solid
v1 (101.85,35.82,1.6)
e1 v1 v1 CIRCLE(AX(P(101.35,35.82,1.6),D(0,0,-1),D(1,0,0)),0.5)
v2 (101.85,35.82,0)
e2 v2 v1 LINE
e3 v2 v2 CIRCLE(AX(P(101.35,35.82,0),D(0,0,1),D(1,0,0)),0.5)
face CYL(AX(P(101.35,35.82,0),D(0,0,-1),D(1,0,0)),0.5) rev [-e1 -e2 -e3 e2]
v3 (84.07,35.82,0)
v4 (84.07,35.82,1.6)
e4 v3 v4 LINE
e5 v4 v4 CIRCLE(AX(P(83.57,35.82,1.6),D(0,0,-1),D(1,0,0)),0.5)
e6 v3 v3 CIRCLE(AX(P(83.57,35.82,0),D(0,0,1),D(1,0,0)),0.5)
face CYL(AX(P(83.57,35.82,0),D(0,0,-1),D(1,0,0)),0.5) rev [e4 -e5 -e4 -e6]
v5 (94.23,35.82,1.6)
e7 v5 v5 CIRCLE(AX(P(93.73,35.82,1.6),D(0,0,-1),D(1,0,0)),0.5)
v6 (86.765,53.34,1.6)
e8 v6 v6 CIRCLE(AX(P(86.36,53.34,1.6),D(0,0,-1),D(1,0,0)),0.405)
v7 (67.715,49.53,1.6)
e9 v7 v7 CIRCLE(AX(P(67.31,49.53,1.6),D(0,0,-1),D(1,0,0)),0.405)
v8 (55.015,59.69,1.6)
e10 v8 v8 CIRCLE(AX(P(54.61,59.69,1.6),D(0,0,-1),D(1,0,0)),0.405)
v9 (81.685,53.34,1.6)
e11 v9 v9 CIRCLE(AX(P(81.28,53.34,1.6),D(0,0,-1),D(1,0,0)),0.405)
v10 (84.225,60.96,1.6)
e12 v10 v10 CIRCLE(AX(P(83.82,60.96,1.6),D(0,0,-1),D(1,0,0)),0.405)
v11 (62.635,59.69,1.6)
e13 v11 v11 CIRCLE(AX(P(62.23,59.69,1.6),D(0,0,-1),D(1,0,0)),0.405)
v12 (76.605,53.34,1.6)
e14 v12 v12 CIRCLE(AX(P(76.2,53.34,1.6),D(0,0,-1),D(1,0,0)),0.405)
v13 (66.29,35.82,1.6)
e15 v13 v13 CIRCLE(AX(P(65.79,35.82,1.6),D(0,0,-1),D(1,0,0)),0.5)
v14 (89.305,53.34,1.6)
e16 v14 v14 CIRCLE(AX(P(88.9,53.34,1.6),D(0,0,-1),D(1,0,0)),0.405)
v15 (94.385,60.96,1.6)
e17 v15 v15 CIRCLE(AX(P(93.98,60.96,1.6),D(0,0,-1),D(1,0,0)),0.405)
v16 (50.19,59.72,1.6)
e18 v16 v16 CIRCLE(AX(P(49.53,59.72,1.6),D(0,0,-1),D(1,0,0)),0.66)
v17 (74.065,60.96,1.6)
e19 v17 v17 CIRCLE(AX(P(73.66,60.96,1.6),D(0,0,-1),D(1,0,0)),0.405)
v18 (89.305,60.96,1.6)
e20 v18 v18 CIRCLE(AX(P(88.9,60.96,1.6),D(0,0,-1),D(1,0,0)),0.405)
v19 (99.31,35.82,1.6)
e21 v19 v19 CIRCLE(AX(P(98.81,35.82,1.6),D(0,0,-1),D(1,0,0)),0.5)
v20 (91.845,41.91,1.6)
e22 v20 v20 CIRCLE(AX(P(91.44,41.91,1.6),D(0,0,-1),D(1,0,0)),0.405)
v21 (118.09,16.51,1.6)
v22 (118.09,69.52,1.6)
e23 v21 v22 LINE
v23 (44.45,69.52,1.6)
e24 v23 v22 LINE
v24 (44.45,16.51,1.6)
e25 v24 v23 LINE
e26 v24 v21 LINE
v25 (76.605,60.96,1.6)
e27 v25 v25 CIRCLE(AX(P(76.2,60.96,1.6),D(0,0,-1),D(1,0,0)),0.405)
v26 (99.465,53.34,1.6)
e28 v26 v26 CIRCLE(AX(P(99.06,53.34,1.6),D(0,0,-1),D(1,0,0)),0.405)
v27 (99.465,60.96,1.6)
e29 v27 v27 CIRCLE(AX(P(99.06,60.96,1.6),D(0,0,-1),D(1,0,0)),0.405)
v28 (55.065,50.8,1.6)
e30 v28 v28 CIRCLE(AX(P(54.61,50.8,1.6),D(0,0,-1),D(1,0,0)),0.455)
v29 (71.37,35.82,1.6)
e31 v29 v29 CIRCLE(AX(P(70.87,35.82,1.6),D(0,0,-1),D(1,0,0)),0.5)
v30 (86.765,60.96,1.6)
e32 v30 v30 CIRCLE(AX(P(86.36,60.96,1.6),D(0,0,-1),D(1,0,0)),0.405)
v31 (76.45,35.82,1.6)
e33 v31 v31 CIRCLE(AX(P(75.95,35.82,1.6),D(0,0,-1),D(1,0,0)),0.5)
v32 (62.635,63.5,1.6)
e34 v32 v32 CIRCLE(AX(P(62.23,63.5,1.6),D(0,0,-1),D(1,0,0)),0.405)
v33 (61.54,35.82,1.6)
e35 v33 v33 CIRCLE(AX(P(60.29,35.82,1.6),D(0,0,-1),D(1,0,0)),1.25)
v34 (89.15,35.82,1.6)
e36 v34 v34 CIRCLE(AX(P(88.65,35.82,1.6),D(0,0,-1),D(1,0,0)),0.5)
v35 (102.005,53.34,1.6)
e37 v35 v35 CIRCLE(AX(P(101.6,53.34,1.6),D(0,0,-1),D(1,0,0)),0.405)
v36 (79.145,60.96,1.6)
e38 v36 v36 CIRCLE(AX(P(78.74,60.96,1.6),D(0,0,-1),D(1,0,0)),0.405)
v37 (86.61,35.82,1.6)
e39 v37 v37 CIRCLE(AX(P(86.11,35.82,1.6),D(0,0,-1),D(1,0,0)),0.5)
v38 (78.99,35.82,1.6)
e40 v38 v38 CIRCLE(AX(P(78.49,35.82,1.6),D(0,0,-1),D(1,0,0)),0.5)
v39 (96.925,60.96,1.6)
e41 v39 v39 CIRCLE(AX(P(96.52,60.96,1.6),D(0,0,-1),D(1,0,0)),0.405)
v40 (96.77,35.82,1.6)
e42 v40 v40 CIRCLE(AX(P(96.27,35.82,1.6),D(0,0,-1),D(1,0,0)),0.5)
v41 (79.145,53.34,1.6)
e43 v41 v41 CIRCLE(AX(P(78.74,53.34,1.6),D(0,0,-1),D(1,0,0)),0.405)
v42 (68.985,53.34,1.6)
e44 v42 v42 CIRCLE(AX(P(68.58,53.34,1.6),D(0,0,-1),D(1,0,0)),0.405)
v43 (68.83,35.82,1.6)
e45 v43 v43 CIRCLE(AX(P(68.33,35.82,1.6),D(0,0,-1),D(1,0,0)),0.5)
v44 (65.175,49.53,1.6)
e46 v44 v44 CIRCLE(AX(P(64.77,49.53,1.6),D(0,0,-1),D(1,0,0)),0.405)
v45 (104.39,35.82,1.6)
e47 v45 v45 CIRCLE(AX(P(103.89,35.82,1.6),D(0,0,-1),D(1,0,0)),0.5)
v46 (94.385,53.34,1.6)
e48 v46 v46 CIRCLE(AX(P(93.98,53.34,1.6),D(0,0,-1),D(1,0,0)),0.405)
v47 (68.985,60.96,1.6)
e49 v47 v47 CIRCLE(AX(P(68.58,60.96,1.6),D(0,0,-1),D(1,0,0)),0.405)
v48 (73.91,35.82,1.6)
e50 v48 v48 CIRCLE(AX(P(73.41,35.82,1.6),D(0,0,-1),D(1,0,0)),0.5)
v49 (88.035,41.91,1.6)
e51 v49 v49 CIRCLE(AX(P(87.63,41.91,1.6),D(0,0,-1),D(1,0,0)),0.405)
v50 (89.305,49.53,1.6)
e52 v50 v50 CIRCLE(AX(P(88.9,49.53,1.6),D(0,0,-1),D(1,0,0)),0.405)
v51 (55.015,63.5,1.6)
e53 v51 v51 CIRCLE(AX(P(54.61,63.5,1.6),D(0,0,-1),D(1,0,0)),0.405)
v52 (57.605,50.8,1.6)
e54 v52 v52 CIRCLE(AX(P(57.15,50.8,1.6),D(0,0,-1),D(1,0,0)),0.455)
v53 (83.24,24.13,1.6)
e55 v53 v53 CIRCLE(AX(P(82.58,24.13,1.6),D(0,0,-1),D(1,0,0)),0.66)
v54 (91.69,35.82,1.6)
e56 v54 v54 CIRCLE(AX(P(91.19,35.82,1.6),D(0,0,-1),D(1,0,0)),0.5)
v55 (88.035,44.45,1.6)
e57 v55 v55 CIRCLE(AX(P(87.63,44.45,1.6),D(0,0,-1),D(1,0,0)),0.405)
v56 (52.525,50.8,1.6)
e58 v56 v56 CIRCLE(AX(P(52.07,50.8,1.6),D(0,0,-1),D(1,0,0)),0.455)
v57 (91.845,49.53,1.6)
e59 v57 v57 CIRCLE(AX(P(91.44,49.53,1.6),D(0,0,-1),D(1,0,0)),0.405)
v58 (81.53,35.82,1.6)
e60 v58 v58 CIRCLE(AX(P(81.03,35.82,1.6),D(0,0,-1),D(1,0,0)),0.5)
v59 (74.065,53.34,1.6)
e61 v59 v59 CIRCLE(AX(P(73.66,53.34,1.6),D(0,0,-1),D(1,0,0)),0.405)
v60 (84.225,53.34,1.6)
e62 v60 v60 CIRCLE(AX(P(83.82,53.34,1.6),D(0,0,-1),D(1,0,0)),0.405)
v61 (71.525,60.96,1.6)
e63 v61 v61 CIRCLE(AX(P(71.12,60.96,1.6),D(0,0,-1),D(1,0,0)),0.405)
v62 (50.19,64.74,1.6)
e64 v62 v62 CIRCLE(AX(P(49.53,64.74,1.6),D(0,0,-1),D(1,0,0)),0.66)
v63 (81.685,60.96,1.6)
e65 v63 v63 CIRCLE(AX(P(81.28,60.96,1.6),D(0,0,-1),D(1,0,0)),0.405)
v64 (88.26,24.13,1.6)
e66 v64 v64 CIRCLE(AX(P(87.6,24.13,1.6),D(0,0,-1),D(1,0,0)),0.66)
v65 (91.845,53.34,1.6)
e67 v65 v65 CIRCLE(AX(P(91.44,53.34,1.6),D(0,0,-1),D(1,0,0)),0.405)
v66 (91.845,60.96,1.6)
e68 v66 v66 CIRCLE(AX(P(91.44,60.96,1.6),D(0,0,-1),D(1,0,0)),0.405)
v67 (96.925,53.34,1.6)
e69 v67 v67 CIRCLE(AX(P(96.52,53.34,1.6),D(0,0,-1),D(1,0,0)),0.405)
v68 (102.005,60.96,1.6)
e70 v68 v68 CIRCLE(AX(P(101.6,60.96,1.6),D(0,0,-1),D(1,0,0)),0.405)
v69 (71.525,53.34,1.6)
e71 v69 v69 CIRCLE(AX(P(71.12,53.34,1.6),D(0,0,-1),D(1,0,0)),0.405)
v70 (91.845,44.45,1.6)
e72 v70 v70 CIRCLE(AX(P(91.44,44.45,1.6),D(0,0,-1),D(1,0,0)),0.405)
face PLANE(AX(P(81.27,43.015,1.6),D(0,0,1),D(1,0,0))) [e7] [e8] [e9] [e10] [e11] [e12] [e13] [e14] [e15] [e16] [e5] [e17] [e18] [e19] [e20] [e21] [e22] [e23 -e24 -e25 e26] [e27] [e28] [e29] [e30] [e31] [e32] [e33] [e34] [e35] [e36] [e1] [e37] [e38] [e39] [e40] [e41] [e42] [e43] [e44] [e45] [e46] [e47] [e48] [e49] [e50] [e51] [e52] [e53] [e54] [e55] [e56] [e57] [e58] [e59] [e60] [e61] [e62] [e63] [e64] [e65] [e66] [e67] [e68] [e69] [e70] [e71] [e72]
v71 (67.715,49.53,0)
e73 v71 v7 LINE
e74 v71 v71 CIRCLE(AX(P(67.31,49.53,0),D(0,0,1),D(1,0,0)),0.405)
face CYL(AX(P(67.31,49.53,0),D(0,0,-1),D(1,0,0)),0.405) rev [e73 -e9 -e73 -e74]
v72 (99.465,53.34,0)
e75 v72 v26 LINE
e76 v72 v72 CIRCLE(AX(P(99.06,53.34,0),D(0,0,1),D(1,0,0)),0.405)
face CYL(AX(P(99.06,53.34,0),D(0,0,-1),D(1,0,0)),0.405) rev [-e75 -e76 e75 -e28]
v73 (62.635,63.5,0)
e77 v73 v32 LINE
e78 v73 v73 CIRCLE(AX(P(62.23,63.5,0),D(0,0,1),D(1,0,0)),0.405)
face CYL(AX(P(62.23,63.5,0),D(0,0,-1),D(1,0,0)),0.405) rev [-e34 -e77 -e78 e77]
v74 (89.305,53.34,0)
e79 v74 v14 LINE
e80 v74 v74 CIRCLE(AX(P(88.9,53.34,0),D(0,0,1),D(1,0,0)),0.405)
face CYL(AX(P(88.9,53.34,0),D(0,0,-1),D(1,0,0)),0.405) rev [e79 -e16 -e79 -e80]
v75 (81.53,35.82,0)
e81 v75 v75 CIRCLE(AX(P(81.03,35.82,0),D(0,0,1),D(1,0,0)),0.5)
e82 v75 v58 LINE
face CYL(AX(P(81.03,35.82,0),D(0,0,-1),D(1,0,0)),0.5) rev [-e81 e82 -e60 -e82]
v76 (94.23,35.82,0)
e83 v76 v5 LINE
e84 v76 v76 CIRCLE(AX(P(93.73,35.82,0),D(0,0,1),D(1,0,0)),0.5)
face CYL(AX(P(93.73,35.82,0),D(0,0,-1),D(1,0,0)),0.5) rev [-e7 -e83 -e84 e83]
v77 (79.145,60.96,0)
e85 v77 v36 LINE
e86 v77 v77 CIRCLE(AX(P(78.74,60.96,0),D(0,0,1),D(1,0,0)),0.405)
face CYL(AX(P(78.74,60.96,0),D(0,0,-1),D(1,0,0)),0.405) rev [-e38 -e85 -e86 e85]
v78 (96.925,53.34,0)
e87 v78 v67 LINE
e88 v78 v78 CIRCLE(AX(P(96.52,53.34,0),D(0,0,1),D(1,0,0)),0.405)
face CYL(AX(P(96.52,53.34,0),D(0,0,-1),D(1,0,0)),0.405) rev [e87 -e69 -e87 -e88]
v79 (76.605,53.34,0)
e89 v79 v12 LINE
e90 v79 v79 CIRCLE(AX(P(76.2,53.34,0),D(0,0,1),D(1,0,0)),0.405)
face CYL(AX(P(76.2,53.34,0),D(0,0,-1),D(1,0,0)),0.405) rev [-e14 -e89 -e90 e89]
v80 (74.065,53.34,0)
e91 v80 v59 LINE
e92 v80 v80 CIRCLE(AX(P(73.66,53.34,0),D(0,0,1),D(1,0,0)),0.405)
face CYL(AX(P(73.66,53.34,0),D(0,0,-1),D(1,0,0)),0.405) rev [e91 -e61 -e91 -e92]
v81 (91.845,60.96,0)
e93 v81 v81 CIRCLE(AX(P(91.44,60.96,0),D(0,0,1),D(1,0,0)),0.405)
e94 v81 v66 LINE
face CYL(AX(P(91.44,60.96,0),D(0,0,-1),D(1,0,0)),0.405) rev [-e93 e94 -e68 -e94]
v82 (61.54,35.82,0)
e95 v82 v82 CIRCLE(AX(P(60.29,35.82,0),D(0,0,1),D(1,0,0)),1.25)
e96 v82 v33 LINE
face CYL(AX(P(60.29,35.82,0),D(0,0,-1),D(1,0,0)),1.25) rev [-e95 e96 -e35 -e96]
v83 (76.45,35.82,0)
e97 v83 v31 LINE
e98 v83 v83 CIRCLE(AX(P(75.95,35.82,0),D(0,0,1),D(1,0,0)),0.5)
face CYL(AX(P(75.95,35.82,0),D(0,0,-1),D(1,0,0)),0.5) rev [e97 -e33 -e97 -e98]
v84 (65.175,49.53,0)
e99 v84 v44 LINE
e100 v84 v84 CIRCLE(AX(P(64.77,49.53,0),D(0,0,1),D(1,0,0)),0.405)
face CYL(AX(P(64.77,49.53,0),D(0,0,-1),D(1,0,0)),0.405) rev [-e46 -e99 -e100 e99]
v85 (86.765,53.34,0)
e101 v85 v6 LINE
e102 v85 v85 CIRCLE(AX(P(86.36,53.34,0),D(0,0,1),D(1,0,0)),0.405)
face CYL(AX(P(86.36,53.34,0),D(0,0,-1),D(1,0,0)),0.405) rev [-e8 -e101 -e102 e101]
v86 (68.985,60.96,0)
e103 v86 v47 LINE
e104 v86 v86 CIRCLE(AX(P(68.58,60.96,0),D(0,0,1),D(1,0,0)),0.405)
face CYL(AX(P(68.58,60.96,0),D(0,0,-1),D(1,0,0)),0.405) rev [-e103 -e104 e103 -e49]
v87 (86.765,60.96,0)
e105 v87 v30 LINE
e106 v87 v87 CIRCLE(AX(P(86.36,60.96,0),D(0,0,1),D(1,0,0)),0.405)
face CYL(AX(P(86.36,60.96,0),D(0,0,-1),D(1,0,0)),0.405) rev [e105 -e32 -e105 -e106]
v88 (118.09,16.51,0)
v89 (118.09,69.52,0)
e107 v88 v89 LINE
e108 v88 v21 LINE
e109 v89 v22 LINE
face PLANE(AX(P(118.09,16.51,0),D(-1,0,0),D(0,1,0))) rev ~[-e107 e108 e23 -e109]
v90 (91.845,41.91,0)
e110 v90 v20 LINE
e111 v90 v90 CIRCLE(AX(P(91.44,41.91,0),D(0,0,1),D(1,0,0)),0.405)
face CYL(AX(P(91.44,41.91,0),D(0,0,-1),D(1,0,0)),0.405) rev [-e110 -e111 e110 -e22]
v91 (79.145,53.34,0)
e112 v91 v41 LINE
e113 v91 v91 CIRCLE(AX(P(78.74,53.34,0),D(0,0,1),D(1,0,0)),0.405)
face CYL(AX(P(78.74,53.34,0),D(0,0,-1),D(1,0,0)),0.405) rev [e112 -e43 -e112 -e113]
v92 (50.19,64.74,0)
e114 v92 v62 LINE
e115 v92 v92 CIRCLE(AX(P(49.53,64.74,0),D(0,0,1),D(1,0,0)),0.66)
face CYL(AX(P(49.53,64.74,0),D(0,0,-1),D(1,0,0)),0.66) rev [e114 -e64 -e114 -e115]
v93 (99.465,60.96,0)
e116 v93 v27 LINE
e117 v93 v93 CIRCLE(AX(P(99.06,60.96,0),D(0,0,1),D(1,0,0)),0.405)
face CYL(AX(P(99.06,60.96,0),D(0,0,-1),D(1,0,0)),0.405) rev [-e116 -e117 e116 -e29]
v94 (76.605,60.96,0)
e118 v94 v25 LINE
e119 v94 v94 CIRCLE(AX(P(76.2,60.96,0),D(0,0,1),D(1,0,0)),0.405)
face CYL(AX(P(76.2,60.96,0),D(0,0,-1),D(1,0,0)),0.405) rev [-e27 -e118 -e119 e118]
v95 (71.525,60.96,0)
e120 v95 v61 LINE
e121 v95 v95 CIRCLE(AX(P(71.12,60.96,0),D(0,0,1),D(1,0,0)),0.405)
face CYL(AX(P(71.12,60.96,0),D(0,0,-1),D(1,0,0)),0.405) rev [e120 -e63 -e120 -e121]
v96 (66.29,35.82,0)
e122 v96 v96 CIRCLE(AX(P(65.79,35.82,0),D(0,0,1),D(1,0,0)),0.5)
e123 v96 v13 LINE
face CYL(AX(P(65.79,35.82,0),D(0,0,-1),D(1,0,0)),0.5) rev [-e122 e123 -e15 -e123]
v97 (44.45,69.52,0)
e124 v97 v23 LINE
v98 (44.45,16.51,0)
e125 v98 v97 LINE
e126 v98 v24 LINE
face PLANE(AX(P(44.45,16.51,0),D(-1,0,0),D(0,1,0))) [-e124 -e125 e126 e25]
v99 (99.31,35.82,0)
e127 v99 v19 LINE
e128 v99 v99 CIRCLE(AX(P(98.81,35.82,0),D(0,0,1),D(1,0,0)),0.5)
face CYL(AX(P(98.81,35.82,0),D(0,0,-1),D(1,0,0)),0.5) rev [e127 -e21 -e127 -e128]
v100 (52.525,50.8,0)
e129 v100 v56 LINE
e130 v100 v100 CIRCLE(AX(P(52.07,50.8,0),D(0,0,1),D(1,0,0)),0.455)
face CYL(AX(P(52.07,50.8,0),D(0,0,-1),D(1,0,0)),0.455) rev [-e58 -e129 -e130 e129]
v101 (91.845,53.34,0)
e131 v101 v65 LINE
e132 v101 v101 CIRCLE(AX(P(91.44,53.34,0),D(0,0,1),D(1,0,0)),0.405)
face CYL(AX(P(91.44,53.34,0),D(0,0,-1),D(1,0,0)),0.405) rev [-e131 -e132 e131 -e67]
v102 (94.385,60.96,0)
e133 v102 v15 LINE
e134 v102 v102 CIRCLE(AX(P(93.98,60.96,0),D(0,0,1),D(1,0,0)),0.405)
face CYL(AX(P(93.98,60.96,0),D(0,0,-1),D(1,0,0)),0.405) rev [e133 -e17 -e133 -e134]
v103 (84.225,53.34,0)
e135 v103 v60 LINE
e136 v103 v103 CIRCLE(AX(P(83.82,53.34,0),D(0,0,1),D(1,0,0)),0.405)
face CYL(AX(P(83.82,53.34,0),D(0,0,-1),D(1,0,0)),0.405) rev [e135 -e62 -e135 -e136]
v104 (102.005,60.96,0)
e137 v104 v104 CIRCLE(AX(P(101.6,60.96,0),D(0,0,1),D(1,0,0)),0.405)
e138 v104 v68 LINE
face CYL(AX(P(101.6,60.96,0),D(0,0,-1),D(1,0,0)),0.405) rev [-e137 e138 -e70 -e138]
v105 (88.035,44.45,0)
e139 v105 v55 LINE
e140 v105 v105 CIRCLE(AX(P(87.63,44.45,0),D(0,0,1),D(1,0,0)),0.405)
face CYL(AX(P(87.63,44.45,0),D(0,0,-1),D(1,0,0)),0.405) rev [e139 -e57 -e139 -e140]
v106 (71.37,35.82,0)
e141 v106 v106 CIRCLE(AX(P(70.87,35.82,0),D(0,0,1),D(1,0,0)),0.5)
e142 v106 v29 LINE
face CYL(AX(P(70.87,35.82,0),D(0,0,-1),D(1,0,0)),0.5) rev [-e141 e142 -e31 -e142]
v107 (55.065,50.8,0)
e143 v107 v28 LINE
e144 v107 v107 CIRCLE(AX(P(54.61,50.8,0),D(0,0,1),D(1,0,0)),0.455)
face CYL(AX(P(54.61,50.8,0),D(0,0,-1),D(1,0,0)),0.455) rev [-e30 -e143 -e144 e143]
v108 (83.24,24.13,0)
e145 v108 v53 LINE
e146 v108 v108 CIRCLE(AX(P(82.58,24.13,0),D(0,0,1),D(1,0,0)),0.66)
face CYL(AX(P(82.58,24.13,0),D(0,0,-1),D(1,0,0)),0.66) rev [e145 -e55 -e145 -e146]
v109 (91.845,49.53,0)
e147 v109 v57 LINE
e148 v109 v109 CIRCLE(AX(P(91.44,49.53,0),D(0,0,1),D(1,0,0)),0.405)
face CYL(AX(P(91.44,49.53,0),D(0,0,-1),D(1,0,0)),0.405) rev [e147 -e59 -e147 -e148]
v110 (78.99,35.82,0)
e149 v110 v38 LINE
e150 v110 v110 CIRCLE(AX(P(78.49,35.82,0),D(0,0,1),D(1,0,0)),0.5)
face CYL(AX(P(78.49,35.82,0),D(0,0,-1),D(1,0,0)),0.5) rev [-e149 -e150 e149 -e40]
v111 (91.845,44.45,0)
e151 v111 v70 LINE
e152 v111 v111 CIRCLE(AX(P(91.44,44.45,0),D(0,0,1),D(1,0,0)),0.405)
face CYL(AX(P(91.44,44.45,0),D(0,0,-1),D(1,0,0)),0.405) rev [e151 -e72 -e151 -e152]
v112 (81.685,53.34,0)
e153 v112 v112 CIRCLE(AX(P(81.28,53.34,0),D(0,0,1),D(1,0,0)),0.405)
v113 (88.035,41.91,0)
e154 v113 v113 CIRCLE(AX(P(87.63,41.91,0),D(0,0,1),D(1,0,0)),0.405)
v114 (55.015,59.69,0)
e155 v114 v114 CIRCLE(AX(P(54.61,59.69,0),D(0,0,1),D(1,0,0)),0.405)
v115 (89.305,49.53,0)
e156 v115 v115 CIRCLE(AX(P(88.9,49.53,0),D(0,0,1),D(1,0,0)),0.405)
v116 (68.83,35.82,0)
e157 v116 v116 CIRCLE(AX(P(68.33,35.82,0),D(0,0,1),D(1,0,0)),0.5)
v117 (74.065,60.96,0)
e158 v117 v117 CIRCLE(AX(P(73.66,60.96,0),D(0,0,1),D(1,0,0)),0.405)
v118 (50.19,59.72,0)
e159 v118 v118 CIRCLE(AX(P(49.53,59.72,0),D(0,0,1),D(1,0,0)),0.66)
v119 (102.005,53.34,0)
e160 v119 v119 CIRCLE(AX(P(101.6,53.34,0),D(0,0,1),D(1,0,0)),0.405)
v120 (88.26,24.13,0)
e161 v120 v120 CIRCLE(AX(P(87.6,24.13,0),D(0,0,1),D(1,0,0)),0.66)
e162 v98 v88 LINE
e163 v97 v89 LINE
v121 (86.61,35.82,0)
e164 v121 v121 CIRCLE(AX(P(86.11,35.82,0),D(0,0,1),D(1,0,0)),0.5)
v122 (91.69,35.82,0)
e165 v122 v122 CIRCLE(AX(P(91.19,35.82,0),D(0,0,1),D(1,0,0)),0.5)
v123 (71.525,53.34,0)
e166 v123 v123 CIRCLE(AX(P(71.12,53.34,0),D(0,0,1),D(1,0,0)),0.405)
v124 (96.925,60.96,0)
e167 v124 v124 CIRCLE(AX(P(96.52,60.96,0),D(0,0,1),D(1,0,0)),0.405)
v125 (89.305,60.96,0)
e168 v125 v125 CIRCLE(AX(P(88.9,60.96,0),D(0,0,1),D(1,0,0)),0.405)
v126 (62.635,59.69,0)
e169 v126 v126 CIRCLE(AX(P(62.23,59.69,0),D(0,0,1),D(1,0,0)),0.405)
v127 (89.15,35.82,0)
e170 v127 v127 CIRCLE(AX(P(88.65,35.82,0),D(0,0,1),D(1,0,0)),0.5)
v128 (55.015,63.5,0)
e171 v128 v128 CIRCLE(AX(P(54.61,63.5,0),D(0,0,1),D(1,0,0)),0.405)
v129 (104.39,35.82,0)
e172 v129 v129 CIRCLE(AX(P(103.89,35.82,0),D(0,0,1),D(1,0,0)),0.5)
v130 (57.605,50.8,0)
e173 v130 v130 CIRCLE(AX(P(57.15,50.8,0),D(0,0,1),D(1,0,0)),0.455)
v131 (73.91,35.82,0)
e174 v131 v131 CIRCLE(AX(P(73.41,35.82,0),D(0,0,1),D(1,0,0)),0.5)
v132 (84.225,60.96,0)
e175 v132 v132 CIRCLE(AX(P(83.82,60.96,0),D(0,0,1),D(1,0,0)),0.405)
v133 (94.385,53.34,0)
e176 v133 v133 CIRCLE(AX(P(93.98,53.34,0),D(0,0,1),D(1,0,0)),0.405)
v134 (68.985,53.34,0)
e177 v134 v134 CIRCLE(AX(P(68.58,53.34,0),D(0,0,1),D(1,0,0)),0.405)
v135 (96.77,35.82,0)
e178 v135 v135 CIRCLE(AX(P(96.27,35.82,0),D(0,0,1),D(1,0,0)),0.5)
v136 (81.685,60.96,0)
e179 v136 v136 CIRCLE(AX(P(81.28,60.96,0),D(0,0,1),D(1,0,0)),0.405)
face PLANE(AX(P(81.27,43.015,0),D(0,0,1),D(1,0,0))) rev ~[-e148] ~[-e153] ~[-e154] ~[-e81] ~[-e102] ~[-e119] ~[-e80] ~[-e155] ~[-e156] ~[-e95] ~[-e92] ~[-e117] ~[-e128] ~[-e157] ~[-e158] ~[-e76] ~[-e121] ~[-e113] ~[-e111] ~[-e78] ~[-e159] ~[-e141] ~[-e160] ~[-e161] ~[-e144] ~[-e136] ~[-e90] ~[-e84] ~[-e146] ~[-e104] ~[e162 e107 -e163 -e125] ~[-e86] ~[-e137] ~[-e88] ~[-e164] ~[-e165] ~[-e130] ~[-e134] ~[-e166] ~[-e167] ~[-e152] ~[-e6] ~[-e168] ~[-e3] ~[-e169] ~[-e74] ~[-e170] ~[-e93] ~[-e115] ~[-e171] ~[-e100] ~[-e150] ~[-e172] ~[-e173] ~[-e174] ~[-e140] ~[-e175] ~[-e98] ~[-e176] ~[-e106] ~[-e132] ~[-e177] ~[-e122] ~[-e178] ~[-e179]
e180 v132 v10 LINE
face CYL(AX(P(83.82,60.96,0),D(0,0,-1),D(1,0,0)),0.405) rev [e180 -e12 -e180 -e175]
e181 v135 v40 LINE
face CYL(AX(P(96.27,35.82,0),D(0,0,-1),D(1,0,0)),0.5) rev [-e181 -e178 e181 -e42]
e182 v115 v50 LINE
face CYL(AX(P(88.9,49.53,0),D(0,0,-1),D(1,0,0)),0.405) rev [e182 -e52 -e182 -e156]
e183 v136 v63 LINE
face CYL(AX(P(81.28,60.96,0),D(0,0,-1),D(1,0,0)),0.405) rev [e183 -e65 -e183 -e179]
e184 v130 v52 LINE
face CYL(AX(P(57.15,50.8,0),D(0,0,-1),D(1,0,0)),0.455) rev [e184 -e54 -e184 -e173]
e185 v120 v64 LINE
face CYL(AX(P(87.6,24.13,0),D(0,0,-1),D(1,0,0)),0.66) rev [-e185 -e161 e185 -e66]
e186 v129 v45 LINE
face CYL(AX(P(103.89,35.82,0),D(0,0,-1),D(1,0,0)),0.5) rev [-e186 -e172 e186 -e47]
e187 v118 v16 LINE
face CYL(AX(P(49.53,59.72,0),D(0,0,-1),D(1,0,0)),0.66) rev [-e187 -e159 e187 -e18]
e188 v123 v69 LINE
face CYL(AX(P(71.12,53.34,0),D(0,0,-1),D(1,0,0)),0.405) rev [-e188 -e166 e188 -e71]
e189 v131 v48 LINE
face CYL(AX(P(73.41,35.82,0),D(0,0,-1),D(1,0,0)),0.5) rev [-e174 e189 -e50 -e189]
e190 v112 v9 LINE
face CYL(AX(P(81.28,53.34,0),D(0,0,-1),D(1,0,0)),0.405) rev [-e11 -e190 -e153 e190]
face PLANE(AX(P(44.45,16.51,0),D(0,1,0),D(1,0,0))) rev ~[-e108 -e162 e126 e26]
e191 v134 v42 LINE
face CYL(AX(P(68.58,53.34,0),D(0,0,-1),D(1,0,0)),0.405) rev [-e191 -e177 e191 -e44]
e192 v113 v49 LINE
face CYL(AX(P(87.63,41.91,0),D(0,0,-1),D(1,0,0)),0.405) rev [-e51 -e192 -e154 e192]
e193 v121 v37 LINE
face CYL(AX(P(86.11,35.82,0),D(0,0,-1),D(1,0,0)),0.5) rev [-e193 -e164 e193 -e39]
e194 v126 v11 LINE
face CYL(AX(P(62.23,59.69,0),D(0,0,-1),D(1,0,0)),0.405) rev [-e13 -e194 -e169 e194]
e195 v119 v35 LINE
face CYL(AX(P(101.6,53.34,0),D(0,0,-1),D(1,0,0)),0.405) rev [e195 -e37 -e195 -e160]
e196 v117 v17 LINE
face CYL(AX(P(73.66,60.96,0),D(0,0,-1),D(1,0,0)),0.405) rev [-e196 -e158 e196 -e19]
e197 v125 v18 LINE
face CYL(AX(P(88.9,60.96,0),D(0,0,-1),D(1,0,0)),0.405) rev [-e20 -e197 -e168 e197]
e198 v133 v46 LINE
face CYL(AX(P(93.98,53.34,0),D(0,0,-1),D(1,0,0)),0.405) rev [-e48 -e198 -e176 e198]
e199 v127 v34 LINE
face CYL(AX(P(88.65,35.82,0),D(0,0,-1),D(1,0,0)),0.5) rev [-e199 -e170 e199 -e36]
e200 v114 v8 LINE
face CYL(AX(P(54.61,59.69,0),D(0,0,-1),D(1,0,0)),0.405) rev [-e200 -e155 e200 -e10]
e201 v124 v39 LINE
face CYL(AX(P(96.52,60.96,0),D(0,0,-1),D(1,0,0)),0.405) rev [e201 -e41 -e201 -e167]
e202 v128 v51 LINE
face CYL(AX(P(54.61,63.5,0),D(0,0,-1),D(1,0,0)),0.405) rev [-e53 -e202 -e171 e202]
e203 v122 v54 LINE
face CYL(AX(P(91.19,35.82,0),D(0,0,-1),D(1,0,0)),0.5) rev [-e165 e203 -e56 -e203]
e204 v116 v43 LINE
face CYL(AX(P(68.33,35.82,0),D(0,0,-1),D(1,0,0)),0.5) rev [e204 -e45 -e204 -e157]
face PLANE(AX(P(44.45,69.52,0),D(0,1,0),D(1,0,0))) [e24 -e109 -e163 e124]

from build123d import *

# Parameters (mm, degrees)
SKETCH1_W           = 73.64
SKETCH1_H           = 53.01
BOARD_OUTLINE_DEPTH = 1.6
SKETCH2_R           = 1.25
NPTH_DEPTH          = 138.043199393
SKETCH3_R           = 0.405
SKETCH3_R_2         = 0.455
SKETCH3_R_3         = 0.5
SKETCH3_R_4         = 0.66
PTH_DEPTH           = 138.043199393


with BuildPart() as part:
    # Sketch1 → Board_Outline (new body)
    with BuildSketch(Plane.XY):
        with Locations((81.27, 43.015)):
            Rectangle(SKETCH1_W, SKETCH1_H)
    extrude(amount=BOARD_OUTLINE_DEPTH)

    # Sketch2 → NPTH (cut, through all)
    with BuildSketch(Plane.XY):
        with Locations((60.29, 4.82)):
            Circle(SKETCH2_R)
        with Locations((135.29, 4.82)):
            Circle(SKETCH2_R)
        with Locations((60.29, 35.82)):
            Circle(SKETCH2_R)
        with Locations((135.29, 35.82)):
            Circle(SKETCH2_R)
    extrude(amount=NPTH_DEPTH, mode=Mode.SUBTRACT)

    # Sketch3 → PTH (cut, through all)
    with BuildSketch(Plane.XY):
        with Locations((88.9, 49.53)):
            Circle(SKETCH3_R)
        with Locations((91.44, 49.53)):
            Circle(SKETCH3_R)
        with Locations((91.44, 41.91)):
            Circle(SKETCH3_R)
        with Locations((91.44, 44.45)):
            Circle(SKETCH3_R)
        with Locations((87.63, 41.91)):
            Circle(SKETCH3_R)
        with Locations((87.63, 44.45)):
            Circle(SKETCH3_R)
        with Locations((52.07, 50.8)):
            Circle(SKETCH3_R_2)
        with Locations((54.61, 50.8)):
            Circle(SKETCH3_R_2)
        with Locations((57.15, 50.8)):
            Circle(SKETCH3_R_2)
        with Locations((65.79, 35.82)):
            Circle(SKETCH3_R_3)
        with Locations((68.33, 35.82)):
            Circle(SKETCH3_R_3)
        with Locations((70.87, 35.82)):
            Circle(SKETCH3_R_3)
        with Locations((73.41, 35.82)):
            Circle(SKETCH3_R_3)
        with Locations((75.95, 35.82)):
            Circle(SKETCH3_R_3)
        with Locations((78.49, 35.82)):
            Circle(SKETCH3_R_3)
        with Locations((81.03, 35.82)):
            Circle(SKETCH3_R_3)
        with Locations((83.57, 35.82)):
            Circle(SKETCH3_R_3)
        with Locations((86.11, 35.82)):
            Circle(SKETCH3_R_3)
        with Locations((88.65, 35.82)):
            Circle(SKETCH3_R_3)
        with Locations((91.19, 35.82)):
            Circle(SKETCH3_R_3)
        with Locations((93.73, 35.82)):
            Circle(SKETCH3_R_3)
        with Locations((96.27, 35.82)):
            Circle(SKETCH3_R_3)
        with Locations((98.81, 35.82)):
            Circle(SKETCH3_R_3)
        with Locations((101.35, 35.82)):
            Circle(SKETCH3_R_3)
        with Locations((103.89, 35.82)):
            Circle(SKETCH3_R_3)
        with Locations((68.58, 53.34)):
            Circle(SKETCH3_R)
        with Locations((71.12, 53.34)):
            Circle(SKETCH3_R)
        with Locations((73.66, 53.34)):
            Circle(SKETCH3_R)
        with Locations((76.2, 53.34)):
            Circle(SKETCH3_R)
        with Locations((78.74, 53.34)):
            Circle(SKETCH3_R)
        with Locations((81.28, 53.34)):
            Circle(SKETCH3_R)
        with Locations((83.82, 53.34)):
            Circle(SKETCH3_R)
        with Locations((86.36, 53.34)):
            Circle(SKETCH3_R)
        with Locations((88.9, 53.34)):
            Circle(SKETCH3_R)
        with Locations((91.44, 53.34)):
            Circle(SKETCH3_R)
        with Locations((93.98, 53.34)):
            Circle(SKETCH3_R)
        with Locations((96.52, 53.34)):
            Circle(SKETCH3_R)
        with Locations((99.06, 53.34)):
            Circle(SKETCH3_R)
        with Locations((101.6, 53.34)):
            Circle(SKETCH3_R)
        with Locations((101.6, 60.96)):
            Circle(SKETCH3_R)
        with Locations((99.06, 60.96)):
            Circle(SKETCH3_R)
        with Locations((96.52, 60.96)):
            Circle(SKETCH3_R)
        with Locations((93.98, 60.96)):
            Circle(SKETCH3_R)
        with Locations((91.44, 60.96)):
            Circle(SKETCH3_R)
        with Locations((88.9, 60.96)):
            Circle(SKETCH3_R)
        with Locations((86.36, 60.96)):
            Circle(SKETCH3_R)
        with Locations((83.82, 60.96)):
            Circle(SKETCH3_R)
        with Locations((81.28, 60.96)):
            Circle(SKETCH3_R)
        with Locations((78.74, 60.96)):
            Circle(SKETCH3_R)
        with Locations((76.2, 60.96)):
            Circle(SKETCH3_R)
        with Locations((73.66, 60.96)):
            Circle(SKETCH3_R)
        with Locations((71.12, 60.96)):
            Circle(SKETCH3_R)
        with Locations((68.58, 60.96)):
            Circle(SKETCH3_R)
        with Locations((54.61, 63.5)):
            Circle(SKETCH3_R)
        with Locations((62.23, 63.5)):
            Circle(SKETCH3_R)
        with Locations((62.23, 59.69)):
            Circle(SKETCH3_R)
        with Locations((54.61, 59.69)):
            Circle(SKETCH3_R)
        with Locations((67.31, 49.53)):
            Circle(SKETCH3_R)
        with Locations((64.77, 49.53)):
            Circle(SKETCH3_R)
        with Locations((49.53, 64.74)):
            Circle(SKETCH3_R_4)
        with Locations((49.53, 59.72)):
            Circle(SKETCH3_R_4)
        with Locations((87.6, 24.13)):
            Circle(SKETCH3_R_4)
        with Locations((82.58, 24.13)):
            Circle(SKETCH3_R_4)
    extrude(amount=PTH_DEPTH, mode=Mode.SUBTRACT)


solid = part.part
